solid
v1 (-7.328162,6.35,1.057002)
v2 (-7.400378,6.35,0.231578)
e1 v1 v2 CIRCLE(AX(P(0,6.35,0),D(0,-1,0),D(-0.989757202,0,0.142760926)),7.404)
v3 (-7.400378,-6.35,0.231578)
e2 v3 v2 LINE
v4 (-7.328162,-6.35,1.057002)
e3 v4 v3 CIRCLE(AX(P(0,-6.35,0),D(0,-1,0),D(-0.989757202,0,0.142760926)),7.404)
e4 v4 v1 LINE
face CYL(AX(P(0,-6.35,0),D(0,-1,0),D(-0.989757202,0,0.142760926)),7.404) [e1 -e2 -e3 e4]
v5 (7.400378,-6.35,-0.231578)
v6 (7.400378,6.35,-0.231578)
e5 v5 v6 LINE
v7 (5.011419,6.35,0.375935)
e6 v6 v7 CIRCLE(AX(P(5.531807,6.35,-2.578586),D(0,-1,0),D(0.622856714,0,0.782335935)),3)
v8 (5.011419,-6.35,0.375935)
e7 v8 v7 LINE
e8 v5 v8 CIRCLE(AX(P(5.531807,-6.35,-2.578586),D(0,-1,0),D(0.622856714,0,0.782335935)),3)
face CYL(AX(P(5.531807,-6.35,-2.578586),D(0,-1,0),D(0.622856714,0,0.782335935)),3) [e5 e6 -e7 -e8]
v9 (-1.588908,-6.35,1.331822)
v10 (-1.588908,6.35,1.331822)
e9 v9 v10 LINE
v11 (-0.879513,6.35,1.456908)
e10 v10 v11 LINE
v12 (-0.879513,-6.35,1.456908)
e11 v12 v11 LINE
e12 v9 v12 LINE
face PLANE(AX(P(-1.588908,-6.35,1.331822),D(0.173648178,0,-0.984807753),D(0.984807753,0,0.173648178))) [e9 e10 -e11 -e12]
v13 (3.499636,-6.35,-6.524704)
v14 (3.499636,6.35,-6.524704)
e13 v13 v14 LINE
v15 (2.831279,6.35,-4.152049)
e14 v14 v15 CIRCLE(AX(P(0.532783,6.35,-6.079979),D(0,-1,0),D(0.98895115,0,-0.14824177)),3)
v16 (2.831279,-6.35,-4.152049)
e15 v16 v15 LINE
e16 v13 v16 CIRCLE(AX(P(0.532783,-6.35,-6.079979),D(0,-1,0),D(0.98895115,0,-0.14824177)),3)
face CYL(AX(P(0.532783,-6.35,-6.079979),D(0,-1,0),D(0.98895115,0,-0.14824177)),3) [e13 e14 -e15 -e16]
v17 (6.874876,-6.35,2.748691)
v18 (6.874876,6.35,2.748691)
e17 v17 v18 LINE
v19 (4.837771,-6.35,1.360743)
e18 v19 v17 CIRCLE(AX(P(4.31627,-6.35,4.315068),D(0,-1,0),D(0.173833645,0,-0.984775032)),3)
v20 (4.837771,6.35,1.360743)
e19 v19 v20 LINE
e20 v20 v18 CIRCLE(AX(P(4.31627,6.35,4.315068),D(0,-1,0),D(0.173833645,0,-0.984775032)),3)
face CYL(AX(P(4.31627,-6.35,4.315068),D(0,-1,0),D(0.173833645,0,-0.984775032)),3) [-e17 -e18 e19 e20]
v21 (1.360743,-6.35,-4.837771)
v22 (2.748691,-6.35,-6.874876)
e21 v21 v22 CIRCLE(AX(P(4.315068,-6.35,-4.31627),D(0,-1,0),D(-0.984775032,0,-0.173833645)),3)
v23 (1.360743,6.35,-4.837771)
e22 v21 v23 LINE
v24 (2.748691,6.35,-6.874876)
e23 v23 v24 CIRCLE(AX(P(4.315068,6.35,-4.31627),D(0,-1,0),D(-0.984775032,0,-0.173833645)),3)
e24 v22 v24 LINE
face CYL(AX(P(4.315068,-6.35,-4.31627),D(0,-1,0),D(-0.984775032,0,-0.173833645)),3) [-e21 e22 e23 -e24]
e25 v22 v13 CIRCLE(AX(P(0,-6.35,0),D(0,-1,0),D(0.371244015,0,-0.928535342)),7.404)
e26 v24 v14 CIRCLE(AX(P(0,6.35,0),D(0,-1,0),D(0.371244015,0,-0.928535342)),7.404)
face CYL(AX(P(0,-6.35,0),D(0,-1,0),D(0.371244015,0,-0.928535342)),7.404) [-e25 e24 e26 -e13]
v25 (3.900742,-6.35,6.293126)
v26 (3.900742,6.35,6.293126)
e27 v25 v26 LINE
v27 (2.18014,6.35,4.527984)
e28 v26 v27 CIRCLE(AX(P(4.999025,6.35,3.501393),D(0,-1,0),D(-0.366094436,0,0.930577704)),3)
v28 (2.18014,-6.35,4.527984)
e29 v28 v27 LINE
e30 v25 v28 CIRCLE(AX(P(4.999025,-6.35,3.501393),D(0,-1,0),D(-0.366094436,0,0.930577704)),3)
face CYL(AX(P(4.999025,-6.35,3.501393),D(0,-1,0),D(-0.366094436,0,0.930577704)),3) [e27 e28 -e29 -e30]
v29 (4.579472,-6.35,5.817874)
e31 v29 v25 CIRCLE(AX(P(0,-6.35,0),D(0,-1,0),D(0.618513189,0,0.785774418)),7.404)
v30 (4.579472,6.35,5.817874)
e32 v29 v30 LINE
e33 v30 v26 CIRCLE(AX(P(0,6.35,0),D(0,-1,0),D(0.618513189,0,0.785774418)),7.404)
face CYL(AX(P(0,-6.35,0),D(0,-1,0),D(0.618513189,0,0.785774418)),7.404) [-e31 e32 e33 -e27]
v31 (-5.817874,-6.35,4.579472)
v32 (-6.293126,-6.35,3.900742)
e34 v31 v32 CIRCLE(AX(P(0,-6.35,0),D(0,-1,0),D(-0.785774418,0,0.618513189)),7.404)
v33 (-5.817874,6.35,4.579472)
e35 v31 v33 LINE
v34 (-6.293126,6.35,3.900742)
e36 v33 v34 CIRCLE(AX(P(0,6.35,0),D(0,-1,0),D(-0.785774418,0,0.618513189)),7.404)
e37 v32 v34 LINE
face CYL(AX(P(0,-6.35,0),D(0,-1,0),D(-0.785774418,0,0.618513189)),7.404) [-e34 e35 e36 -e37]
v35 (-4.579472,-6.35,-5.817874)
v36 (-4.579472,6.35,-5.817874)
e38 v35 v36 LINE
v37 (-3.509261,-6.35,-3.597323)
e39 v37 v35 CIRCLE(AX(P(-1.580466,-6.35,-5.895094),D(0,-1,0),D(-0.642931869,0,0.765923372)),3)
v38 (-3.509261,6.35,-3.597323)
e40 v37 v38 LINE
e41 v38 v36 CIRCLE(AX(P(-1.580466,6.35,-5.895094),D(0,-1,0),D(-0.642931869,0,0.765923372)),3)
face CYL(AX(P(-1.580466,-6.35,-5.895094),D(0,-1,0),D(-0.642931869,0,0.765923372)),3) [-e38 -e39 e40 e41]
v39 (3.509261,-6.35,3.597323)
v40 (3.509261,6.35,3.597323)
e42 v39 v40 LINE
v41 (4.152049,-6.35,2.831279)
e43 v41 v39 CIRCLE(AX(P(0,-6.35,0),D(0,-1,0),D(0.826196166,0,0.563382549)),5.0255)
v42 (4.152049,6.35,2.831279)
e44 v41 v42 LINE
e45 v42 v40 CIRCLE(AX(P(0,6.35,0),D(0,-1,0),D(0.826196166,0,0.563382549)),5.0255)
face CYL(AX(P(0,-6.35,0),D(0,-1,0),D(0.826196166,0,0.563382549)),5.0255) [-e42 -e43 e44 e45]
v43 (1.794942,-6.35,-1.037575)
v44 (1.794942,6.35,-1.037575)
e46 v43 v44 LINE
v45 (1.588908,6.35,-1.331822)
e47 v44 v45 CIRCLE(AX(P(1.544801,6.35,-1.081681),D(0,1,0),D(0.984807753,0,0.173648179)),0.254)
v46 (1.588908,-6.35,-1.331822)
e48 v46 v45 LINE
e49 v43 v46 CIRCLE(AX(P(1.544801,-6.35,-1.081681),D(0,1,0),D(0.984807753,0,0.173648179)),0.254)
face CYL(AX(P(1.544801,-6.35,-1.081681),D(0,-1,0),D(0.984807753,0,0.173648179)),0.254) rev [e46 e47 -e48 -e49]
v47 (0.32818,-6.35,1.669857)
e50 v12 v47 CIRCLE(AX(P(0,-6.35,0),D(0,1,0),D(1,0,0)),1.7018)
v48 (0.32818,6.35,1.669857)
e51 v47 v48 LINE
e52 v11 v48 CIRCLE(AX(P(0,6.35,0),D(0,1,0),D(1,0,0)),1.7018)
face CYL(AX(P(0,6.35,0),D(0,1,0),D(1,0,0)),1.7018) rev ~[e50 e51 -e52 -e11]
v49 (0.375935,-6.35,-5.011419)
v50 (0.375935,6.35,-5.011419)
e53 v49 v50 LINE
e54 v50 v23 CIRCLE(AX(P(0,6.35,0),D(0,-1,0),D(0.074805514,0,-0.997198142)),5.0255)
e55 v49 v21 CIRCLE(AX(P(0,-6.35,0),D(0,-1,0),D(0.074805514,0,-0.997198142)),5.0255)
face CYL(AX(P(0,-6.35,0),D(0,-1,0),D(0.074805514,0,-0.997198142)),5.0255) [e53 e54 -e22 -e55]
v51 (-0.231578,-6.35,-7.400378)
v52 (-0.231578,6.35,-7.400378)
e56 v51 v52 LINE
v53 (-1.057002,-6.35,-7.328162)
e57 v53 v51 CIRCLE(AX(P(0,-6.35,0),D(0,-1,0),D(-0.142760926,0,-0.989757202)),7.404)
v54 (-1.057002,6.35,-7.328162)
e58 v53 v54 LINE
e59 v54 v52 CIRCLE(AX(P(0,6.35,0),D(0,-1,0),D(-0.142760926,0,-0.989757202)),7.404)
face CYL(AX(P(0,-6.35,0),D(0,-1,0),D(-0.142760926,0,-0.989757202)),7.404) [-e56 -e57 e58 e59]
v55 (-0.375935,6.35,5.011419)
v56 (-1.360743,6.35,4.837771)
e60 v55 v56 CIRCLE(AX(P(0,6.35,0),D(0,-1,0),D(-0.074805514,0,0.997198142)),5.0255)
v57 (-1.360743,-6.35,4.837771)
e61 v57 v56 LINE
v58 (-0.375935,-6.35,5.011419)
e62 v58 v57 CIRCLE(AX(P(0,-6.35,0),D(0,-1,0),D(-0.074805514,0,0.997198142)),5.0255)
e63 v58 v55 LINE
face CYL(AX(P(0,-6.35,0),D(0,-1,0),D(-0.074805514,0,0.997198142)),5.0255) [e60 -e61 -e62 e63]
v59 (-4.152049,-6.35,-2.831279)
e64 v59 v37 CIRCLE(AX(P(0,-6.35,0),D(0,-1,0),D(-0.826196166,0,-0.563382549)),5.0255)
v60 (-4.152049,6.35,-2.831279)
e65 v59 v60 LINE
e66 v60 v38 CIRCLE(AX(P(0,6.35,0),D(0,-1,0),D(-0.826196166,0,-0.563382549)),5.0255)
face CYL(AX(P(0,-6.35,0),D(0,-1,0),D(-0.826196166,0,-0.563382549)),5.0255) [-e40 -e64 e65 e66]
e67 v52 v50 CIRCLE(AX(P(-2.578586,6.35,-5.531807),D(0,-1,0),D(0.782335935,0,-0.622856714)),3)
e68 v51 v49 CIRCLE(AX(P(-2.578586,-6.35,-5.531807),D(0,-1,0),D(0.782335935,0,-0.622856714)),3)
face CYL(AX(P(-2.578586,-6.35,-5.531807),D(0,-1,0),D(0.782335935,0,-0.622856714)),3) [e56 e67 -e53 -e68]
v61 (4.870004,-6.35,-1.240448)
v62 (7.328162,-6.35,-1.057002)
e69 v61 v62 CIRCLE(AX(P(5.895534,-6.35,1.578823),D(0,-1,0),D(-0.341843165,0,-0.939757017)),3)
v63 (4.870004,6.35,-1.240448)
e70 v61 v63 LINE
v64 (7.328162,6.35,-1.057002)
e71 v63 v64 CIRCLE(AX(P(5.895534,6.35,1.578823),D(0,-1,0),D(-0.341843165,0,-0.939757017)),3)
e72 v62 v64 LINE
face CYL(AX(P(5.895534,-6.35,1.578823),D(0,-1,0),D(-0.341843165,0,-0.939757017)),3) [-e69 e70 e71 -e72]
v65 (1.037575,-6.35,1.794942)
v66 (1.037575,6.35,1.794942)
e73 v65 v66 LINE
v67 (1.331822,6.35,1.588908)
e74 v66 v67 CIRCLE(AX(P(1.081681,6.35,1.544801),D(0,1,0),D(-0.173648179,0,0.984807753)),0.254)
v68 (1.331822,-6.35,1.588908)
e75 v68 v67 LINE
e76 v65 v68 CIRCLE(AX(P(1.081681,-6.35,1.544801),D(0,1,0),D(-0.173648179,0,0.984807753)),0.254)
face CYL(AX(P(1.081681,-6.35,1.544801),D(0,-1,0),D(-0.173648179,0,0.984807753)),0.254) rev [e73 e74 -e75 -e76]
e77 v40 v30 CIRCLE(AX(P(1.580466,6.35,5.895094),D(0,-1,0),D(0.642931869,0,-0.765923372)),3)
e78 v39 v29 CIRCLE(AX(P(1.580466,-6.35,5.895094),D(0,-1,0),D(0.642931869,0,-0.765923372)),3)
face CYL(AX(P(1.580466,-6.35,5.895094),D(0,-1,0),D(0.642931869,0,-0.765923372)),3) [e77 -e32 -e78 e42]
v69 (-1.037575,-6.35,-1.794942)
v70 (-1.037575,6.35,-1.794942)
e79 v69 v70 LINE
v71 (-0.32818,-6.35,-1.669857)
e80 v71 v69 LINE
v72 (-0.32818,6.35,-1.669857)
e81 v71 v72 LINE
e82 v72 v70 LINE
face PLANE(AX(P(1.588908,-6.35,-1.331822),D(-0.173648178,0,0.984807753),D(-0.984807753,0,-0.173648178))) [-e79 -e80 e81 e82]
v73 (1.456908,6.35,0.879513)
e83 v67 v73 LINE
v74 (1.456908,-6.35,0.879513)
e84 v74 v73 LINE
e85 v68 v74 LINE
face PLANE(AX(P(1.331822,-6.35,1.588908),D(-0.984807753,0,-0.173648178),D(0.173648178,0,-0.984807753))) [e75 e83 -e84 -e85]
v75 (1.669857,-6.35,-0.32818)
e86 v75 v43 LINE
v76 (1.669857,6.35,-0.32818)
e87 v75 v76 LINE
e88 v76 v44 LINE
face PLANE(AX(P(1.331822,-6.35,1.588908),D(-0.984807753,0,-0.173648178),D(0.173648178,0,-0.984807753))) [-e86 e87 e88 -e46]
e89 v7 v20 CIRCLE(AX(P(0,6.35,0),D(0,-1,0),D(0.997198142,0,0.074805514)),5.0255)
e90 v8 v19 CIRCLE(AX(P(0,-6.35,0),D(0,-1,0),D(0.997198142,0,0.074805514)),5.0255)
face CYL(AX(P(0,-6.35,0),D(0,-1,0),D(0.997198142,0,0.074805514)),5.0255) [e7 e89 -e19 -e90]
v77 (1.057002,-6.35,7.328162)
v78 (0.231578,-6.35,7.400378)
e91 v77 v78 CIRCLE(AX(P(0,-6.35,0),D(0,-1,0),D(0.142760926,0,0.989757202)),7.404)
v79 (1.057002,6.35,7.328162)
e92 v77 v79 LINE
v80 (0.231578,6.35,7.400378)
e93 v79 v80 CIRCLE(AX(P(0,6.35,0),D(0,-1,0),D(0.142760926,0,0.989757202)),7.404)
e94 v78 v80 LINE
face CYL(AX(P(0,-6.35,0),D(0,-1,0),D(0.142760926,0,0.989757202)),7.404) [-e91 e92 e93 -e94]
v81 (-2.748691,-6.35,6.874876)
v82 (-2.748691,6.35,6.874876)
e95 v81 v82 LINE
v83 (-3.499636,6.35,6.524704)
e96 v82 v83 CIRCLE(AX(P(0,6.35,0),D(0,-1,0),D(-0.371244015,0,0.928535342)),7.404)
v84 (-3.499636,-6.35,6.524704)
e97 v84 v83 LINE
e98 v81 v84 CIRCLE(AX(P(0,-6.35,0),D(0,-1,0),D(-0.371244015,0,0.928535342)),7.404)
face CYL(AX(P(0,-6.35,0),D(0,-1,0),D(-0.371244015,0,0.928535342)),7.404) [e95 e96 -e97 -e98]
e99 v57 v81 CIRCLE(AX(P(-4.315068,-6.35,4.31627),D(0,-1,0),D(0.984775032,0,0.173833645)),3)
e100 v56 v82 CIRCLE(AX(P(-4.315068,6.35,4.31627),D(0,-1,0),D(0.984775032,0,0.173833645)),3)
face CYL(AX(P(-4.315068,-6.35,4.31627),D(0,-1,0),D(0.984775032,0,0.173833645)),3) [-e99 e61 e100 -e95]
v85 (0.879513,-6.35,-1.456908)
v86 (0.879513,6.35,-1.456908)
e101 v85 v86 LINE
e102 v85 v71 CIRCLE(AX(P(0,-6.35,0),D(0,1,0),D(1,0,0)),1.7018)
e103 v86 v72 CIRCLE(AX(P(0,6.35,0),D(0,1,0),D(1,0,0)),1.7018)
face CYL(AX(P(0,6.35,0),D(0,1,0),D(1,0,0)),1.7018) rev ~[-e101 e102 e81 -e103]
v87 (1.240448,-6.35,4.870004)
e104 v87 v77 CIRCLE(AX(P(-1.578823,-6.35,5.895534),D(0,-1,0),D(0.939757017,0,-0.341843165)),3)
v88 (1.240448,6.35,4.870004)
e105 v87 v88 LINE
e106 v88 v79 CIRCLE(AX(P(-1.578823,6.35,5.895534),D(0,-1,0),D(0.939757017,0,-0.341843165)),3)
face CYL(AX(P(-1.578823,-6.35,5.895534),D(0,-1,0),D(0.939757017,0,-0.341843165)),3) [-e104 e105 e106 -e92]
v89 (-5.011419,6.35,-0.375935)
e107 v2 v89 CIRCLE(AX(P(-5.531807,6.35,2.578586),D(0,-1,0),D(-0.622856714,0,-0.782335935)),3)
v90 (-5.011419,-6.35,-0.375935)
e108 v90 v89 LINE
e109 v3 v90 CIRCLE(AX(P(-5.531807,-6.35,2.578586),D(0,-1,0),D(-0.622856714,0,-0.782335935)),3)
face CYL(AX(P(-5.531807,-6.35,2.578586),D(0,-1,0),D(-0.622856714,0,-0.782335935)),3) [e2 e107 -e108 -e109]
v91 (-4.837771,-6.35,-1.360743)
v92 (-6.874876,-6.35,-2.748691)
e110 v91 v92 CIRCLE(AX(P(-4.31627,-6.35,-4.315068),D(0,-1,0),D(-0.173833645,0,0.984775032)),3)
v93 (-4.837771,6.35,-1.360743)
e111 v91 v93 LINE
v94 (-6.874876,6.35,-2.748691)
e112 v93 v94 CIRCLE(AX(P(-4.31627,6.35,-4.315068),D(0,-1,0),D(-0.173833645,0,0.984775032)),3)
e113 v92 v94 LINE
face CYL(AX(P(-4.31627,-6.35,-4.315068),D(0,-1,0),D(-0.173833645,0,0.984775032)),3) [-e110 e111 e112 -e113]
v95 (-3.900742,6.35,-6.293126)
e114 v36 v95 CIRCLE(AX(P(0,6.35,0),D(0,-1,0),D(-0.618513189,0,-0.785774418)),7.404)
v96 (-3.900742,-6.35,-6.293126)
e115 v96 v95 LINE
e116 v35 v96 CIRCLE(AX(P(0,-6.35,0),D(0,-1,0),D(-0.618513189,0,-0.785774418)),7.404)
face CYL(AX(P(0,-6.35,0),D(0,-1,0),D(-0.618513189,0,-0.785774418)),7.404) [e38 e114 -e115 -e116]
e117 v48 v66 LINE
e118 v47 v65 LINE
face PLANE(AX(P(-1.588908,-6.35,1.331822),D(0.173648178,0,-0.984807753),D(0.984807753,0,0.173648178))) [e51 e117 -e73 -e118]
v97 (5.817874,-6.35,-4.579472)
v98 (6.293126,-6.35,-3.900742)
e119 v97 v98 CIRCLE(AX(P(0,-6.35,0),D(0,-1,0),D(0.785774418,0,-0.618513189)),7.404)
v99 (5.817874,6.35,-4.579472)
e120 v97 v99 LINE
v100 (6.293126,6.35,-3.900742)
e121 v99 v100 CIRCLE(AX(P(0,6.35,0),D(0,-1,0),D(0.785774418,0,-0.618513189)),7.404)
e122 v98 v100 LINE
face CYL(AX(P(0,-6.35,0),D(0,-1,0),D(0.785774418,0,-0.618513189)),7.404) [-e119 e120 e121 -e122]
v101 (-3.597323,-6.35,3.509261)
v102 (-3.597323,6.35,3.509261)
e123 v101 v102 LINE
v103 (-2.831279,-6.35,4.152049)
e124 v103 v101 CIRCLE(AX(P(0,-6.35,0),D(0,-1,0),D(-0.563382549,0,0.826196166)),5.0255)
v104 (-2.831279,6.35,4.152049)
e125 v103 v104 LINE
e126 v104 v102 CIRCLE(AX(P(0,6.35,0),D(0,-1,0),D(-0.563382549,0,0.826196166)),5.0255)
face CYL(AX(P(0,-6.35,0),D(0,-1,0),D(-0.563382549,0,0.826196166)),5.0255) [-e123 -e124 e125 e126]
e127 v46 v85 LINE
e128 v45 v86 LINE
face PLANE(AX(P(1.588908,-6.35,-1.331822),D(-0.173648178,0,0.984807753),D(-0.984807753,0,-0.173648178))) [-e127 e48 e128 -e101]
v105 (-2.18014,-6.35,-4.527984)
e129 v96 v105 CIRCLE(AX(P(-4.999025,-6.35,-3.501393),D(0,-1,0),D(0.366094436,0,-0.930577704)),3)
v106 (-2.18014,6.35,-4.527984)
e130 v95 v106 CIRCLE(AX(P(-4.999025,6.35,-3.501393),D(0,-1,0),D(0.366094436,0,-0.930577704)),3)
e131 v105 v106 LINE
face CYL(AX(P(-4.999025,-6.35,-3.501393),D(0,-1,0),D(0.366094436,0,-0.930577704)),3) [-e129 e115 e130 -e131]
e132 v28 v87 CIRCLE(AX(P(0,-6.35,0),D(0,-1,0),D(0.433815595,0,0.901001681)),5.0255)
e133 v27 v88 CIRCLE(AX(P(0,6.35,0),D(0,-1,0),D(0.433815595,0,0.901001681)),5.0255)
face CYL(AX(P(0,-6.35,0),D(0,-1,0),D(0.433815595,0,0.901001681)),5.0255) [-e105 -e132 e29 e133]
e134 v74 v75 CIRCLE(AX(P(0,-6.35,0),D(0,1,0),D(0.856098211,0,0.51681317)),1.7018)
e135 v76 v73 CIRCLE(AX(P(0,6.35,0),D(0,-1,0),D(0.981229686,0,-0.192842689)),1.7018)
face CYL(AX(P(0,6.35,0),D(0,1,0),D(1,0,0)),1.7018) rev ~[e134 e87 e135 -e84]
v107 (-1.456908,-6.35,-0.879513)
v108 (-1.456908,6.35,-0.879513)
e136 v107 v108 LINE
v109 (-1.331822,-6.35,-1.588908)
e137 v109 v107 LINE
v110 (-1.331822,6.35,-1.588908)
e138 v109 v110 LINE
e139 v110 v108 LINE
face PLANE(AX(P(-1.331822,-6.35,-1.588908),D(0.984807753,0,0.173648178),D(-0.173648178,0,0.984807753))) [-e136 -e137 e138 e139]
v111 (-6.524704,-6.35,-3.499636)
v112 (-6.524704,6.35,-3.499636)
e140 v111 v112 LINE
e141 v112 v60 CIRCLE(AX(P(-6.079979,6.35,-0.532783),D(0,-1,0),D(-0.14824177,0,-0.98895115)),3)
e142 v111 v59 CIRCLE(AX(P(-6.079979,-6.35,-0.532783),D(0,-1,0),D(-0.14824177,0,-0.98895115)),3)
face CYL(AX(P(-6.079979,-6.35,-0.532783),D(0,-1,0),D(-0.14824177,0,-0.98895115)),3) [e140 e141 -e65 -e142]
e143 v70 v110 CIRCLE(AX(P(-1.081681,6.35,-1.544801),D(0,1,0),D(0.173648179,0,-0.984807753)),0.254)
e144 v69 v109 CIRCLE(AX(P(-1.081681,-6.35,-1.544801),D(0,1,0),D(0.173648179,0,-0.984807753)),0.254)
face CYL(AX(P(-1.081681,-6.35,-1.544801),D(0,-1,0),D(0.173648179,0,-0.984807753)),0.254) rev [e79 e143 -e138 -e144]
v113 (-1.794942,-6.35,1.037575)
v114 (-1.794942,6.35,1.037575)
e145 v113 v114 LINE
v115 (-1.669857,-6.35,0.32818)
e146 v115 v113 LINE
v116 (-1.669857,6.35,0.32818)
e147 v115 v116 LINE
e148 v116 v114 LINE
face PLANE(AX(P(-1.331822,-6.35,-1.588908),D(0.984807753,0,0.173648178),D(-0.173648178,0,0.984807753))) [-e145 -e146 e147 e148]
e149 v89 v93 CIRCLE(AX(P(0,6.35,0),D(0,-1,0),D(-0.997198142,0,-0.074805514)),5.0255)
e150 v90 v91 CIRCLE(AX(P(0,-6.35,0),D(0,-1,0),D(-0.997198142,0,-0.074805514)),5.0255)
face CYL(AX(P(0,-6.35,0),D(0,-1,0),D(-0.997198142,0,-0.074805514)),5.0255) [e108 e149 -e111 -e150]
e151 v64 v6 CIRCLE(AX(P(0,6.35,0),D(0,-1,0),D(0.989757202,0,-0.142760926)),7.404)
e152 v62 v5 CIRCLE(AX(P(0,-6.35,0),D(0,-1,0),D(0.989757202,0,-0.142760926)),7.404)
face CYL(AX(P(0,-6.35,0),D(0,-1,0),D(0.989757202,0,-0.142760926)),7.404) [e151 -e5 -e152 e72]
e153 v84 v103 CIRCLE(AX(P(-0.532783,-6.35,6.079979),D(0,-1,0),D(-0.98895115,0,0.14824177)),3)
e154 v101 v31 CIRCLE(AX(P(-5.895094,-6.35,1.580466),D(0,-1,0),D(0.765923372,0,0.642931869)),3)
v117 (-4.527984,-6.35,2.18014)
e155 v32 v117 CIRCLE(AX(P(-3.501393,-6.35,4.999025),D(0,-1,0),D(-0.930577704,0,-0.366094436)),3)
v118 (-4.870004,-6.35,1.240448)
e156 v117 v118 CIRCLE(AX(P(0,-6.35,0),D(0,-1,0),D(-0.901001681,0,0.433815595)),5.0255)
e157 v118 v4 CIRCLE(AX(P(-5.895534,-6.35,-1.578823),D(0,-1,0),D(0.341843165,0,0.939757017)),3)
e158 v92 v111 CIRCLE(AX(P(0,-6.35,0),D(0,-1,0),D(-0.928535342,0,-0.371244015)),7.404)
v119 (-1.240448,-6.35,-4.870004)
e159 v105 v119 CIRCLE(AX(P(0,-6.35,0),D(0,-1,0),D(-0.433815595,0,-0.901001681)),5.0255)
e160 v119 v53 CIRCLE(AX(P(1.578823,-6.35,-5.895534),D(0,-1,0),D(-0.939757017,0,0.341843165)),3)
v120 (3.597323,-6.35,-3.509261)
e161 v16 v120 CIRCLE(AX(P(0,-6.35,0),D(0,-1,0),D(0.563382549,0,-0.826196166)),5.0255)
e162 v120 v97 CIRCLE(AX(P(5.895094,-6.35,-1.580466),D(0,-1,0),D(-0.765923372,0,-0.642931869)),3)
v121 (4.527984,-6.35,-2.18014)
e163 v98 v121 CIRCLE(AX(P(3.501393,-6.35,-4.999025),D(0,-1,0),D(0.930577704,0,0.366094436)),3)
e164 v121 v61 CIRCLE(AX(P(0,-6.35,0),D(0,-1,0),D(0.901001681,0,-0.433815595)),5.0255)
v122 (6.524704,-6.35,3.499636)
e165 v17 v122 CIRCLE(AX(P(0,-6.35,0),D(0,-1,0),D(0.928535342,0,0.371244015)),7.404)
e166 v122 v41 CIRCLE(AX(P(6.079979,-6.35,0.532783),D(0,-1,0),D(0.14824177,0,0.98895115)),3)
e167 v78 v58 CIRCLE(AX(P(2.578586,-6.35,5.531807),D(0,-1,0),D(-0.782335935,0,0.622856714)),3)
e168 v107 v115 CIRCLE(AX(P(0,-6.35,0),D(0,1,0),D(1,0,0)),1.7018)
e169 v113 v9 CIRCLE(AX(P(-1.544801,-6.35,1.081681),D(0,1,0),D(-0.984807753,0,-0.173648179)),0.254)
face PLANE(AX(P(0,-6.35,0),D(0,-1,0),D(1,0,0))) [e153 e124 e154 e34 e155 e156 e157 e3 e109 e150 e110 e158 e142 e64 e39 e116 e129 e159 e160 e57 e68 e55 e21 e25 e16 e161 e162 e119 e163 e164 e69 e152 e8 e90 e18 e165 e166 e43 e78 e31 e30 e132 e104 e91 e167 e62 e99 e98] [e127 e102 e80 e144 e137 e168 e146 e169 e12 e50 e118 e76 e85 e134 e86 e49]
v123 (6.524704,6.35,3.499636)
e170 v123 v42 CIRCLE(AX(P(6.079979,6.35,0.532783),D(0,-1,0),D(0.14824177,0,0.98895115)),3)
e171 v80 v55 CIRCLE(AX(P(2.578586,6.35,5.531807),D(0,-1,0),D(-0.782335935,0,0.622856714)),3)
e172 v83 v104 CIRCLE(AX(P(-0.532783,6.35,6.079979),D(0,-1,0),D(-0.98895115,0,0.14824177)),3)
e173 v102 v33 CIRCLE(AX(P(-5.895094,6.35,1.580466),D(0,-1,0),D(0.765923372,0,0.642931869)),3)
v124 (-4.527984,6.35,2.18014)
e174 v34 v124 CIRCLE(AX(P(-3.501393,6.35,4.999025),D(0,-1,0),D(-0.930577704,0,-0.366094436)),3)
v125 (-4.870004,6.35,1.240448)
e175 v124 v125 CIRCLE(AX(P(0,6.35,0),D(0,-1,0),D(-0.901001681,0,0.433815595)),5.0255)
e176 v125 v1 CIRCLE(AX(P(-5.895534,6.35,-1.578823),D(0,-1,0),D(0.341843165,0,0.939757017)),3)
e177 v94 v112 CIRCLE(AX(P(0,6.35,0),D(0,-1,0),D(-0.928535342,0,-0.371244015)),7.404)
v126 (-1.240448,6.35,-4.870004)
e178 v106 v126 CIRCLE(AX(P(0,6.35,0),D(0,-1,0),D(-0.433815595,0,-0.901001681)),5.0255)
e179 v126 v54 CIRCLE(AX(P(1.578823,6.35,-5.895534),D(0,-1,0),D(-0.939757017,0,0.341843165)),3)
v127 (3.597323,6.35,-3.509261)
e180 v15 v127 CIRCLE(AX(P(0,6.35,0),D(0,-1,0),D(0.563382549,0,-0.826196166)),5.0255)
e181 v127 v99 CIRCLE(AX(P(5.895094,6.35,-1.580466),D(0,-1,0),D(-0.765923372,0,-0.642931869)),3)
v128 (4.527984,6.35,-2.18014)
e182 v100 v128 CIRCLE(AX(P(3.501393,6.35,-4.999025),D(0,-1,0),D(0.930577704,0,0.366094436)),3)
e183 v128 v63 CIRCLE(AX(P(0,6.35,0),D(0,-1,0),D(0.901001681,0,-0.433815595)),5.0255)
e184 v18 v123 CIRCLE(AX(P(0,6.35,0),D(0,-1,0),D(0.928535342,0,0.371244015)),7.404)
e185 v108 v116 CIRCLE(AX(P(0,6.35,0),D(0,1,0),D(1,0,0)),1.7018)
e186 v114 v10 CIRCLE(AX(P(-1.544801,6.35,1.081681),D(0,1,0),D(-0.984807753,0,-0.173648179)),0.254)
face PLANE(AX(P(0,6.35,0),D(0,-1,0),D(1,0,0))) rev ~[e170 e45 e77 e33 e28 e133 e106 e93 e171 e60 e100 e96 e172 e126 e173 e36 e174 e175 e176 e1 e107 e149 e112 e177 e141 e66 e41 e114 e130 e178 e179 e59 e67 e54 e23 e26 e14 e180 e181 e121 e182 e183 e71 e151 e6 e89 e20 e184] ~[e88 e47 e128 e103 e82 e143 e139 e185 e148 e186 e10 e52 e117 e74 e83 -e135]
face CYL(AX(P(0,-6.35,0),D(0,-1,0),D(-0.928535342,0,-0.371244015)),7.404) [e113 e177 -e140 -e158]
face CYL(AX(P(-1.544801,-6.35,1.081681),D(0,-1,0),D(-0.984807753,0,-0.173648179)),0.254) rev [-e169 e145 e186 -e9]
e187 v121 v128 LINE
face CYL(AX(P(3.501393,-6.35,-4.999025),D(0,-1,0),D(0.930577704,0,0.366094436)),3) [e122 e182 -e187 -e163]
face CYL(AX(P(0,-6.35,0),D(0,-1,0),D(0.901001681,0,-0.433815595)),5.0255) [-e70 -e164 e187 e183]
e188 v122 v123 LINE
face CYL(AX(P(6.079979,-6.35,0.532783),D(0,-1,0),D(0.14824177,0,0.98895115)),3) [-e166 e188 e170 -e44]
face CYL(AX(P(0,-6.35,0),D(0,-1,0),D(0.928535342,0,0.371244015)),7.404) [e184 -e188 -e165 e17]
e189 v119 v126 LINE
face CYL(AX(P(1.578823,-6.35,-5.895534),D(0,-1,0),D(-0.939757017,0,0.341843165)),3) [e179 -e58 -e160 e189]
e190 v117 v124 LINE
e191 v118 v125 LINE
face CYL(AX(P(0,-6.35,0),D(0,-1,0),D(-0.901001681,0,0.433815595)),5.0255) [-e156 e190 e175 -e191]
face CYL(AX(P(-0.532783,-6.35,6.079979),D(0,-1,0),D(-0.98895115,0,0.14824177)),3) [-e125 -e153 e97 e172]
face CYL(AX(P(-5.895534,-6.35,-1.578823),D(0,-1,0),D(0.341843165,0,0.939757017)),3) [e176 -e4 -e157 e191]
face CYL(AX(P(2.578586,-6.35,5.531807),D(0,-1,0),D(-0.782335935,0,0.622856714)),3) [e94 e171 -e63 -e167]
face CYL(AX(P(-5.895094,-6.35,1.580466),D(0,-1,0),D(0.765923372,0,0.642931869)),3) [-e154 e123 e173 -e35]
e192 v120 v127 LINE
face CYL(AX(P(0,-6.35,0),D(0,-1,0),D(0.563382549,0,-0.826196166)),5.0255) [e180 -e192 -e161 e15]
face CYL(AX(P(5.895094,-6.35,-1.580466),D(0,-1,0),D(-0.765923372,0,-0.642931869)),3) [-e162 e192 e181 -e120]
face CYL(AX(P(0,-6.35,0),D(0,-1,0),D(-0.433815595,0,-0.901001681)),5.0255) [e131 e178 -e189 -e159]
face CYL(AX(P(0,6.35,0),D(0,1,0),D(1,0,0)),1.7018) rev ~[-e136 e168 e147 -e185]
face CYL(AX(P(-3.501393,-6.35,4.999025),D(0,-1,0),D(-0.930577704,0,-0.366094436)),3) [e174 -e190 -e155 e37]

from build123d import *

# Parameters (mm, degrees)
BOSS_EXTRUDE1_DEPTH = 12.7
SKETCH2_R           = 1.7018
CUT_EXTRUDE1_DEPTH  = 56.896


with BuildPart() as part:
    # Sketch1 → Boss-Extrude1 (new body)
    with BuildSketch(Plane.XZ.offset(6.35)):
        with BuildLine():
            ThreePointArc((3.900741532, 6.293125734), (2.850773823, 5.595435975), (2.180140266, 4.527983952))
            ThreePointArc((2.180140266, 4.527983952), (1.71882223, 4.722425266), (1.240447645, 4.870004095))
            ThreePointArc((1.240447645, 4.870004095), (1.41285747, 6.118794727), (1.057001873, 7.328162323))
            ThreePointArc((1.057001873, 7.328162323), (0.645301119, 7.375825545), (0.231578393, 7.400377521))
            ThreePointArc((0.231578393, 7.400377521), (-0.328875436, 6.271176611), (-0.375935122, 5.011419263))
            ThreePointArc((-0.375935122, 5.011419263), (-0.872668917, 4.949151363), (-1.360742875, 4.837771086))
            ThreePointArc((-1.360742875, 4.837771086), (-1.835826903, 6.005460409), (-2.748690687, 6.874875672))
            ThreePointArc((-2.748690687, 6.874875672), (-3.12906561, 6.710302855), (-3.499635989, 6.524704127))
            ThreePointArc((-3.499635989, 6.524704127), (-3.420402788, 5.266560539), (-2.831278997, 4.15204883))
            ThreePointArc((-2.831278997, 4.15204883), (-3.230329132, 3.849756349), (-3.597323441, 3.509261221))
            ThreePointArc((-3.597323441, 3.509261221), (-4.592602939, 4.282967824), (-5.817873798, 4.579471636))
            ThreePointArc((-5.817873798, 4.579471636), (-6.065001736, 4.246759935), (-6.293125734, 3.900741532))
            ThreePointArc((-6.293125734, 3.900741532), (-5.595435975, 2.850773823), (-4.527983952, 2.180140266))
            ThreePointArc((-4.527983952, 2.180140266), (-4.722425266, 1.71882223), (-4.870004095, 1.240447645))
            ThreePointArc((-4.870004095, 1.240447645), (-6.118794727, 1.41285747), (-7.328162323, 1.057001873))
            ThreePointArc((-7.328162323, 1.057001873), (-7.375825545, 0.645301119), (-7.400377521, 0.231578393))
            ThreePointArc((-7.400377521, 0.231578393), (-6.271176611, -0.328875436), (-5.011419263, -0.375935122))
            ThreePointArc((-5.011419263, -0.375935122), (-4.949151363, -0.872668917), (-4.837771086, -1.360742875))
            ThreePointArc((-4.837771086, -1.360742875), (-6.005460409, -1.835826903), (-6.874875672, -2.748690687))
            ThreePointArc((-6.874875672, -2.748690687), (-6.710302855, -3.12906561), (-6.524704127, -3.499635989))
            ThreePointArc((-6.524704127, -3.499635989), (-5.266560539, -3.420402788), (-4.15204883, -2.831278997))
            ThreePointArc((-4.15204883, -2.831278997), (-3.849756349, -3.230329132), (-3.509261221, -3.597323441))
            ThreePointArc((-3.509261221, -3.597323441), (-4.282967824, -4.592602939), (-4.579471636, -5.817873798))
            ThreePointArc((-4.579471636, -5.817873798), (-4.246759935, -6.065001736), (-3.900741532, -6.293125734))
            ThreePointArc((-3.900741532, -6.293125734), (-2.850773823, -5.595435975), (-2.180140266, -4.527983952))
            ThreePointArc((-2.180140266, -4.527983952), (-1.71882223, -4.722425266), (-1.240447645, -4.870004095))
            ThreePointArc((-1.240447645, -4.870004095), (-1.41285747, -6.118794727), (-1.057001873, -7.328162323))
            ThreePointArc((-1.057001873, -7.328162323), (-0.645301119, -7.375825545), (-0.231578393, -7.400377521))
            ThreePointArc((-0.231578393, -7.400377521), (0.328875436, -6.271176611), (0.375935122, -5.011419263))
            ThreePointArc((0.375935122, -5.011419263), (0.872668917, -4.949151363), (1.360742875, -4.837771086))
            ThreePointArc((1.360742875, -4.837771086), (1.835826903, -6.005460409), (2.748690687, -6.874875672))
            ThreePointArc((2.748690687, -6.874875672), (3.12906561, -6.710302855), (3.499635989, -6.524704127))
            ThreePointArc((3.499635989, -6.524704127), (3.420402788, -5.266560539), (2.831278997, -4.15204883))
            ThreePointArc((2.831278997, -4.15204883), (3.230329132, -3.849756349), (3.597323441, -3.509261221))
            ThreePointArc((3.597323441, -3.509261221), (4.592602939, -4.282967824), (5.817873798, -4.579471636))
            ThreePointArc((5.817873798, -4.579471636), (6.065001736, -4.246759935), (6.293125734, -3.900741532))
            ThreePointArc((6.293125734, -3.900741532), (5.595435975, -2.850773823), (4.527983952, -2.180140266))
            ThreePointArc((4.527983952, -2.180140266), (4.722425266, -1.71882223), (4.870004095, -1.240447645))
            ThreePointArc((4.870004095, -1.240447645), (6.118794727, -1.41285747), (7.328162323, -1.057001873))
            ThreePointArc((7.328162323, -1.057001873), (7.375825545, -0.645301119), (7.400377521, -0.231578393))
            ThreePointArc((7.400377521, -0.231578393), (6.271176611, 0.328875436), (5.011419263, 0.375935122))
            ThreePointArc((5.011419263, 0.375935122), (4.949151363, 0.872668917), (4.837771086, 1.360742875))
            ThreePointArc((4.837771086, 1.360742875), (6.005460409, 1.835826903), (6.874875672, 2.748690687))
            ThreePointArc((6.874875672, 2.748690687), (6.710302855, 3.12906561), (6.524704127, 3.499635989))
            ThreePointArc((6.524704127, 3.499635989), (5.266560539, 3.420402788), (4.15204883, 2.831278997))
            ThreePointArc((4.15204883, 2.831278997), (3.849756349, 3.230329132), (3.509261221, 3.597323441))
            ThreePointArc((3.509261221, 3.597323441), (4.282967824, 4.592602939), (4.579471636, 5.817873798))
            ThreePointArc((4.579471636, 5.817873798), (4.246759935, 6.065001736), (3.900741532, 6.293125734))
        make_face()
        with BuildLine():
            Line((1.331822463, 1.588907621), (1.794942153, -1.037574657))
            ThreePointArc((1.794942153, -1.037574657), (1.752865603, -1.227369709), (1.588907621, -1.331822463))
            Line((1.588907621, -1.331822463), (-1.037574657, -1.794942153))
            ThreePointArc((-1.037574657, -1.794942153), (-1.227369709, -1.752865603), (-1.331822463, -1.588907621))
            Line((-1.331822463, -1.588907621), (-1.794942153, 1.037574657))
            ThreePointArc((-1.794942153, 1.037574657), (-1.752865603, 1.227369709), (-1.588907621, 1.331822463))
            Line((-1.588907621, 1.331822463), (1.037574657, 1.794942153))
            ThreePointArc((1.037574657, 1.794942153), (1.227369709, 1.752865603), (1.331822463, 1.588907621))
        make_face(mode=Mode.SUBTRACT)
    extrude(amount=-BOSS_EXTRUDE1_DEPTH)

    # Sketch2 → Cut-Extrude1 (cut)
    with BuildSketch(Plane(origin=(0, 6.35, 0), x_dir=(1, 0, 0), z_dir=(0, 1, 0))):
        Circle(SKETCH2_R)
    extrude(amount=-CUT_EXTRUDE1_DEPTH, mode=Mode.SUBTRACT)


solid = part.part
